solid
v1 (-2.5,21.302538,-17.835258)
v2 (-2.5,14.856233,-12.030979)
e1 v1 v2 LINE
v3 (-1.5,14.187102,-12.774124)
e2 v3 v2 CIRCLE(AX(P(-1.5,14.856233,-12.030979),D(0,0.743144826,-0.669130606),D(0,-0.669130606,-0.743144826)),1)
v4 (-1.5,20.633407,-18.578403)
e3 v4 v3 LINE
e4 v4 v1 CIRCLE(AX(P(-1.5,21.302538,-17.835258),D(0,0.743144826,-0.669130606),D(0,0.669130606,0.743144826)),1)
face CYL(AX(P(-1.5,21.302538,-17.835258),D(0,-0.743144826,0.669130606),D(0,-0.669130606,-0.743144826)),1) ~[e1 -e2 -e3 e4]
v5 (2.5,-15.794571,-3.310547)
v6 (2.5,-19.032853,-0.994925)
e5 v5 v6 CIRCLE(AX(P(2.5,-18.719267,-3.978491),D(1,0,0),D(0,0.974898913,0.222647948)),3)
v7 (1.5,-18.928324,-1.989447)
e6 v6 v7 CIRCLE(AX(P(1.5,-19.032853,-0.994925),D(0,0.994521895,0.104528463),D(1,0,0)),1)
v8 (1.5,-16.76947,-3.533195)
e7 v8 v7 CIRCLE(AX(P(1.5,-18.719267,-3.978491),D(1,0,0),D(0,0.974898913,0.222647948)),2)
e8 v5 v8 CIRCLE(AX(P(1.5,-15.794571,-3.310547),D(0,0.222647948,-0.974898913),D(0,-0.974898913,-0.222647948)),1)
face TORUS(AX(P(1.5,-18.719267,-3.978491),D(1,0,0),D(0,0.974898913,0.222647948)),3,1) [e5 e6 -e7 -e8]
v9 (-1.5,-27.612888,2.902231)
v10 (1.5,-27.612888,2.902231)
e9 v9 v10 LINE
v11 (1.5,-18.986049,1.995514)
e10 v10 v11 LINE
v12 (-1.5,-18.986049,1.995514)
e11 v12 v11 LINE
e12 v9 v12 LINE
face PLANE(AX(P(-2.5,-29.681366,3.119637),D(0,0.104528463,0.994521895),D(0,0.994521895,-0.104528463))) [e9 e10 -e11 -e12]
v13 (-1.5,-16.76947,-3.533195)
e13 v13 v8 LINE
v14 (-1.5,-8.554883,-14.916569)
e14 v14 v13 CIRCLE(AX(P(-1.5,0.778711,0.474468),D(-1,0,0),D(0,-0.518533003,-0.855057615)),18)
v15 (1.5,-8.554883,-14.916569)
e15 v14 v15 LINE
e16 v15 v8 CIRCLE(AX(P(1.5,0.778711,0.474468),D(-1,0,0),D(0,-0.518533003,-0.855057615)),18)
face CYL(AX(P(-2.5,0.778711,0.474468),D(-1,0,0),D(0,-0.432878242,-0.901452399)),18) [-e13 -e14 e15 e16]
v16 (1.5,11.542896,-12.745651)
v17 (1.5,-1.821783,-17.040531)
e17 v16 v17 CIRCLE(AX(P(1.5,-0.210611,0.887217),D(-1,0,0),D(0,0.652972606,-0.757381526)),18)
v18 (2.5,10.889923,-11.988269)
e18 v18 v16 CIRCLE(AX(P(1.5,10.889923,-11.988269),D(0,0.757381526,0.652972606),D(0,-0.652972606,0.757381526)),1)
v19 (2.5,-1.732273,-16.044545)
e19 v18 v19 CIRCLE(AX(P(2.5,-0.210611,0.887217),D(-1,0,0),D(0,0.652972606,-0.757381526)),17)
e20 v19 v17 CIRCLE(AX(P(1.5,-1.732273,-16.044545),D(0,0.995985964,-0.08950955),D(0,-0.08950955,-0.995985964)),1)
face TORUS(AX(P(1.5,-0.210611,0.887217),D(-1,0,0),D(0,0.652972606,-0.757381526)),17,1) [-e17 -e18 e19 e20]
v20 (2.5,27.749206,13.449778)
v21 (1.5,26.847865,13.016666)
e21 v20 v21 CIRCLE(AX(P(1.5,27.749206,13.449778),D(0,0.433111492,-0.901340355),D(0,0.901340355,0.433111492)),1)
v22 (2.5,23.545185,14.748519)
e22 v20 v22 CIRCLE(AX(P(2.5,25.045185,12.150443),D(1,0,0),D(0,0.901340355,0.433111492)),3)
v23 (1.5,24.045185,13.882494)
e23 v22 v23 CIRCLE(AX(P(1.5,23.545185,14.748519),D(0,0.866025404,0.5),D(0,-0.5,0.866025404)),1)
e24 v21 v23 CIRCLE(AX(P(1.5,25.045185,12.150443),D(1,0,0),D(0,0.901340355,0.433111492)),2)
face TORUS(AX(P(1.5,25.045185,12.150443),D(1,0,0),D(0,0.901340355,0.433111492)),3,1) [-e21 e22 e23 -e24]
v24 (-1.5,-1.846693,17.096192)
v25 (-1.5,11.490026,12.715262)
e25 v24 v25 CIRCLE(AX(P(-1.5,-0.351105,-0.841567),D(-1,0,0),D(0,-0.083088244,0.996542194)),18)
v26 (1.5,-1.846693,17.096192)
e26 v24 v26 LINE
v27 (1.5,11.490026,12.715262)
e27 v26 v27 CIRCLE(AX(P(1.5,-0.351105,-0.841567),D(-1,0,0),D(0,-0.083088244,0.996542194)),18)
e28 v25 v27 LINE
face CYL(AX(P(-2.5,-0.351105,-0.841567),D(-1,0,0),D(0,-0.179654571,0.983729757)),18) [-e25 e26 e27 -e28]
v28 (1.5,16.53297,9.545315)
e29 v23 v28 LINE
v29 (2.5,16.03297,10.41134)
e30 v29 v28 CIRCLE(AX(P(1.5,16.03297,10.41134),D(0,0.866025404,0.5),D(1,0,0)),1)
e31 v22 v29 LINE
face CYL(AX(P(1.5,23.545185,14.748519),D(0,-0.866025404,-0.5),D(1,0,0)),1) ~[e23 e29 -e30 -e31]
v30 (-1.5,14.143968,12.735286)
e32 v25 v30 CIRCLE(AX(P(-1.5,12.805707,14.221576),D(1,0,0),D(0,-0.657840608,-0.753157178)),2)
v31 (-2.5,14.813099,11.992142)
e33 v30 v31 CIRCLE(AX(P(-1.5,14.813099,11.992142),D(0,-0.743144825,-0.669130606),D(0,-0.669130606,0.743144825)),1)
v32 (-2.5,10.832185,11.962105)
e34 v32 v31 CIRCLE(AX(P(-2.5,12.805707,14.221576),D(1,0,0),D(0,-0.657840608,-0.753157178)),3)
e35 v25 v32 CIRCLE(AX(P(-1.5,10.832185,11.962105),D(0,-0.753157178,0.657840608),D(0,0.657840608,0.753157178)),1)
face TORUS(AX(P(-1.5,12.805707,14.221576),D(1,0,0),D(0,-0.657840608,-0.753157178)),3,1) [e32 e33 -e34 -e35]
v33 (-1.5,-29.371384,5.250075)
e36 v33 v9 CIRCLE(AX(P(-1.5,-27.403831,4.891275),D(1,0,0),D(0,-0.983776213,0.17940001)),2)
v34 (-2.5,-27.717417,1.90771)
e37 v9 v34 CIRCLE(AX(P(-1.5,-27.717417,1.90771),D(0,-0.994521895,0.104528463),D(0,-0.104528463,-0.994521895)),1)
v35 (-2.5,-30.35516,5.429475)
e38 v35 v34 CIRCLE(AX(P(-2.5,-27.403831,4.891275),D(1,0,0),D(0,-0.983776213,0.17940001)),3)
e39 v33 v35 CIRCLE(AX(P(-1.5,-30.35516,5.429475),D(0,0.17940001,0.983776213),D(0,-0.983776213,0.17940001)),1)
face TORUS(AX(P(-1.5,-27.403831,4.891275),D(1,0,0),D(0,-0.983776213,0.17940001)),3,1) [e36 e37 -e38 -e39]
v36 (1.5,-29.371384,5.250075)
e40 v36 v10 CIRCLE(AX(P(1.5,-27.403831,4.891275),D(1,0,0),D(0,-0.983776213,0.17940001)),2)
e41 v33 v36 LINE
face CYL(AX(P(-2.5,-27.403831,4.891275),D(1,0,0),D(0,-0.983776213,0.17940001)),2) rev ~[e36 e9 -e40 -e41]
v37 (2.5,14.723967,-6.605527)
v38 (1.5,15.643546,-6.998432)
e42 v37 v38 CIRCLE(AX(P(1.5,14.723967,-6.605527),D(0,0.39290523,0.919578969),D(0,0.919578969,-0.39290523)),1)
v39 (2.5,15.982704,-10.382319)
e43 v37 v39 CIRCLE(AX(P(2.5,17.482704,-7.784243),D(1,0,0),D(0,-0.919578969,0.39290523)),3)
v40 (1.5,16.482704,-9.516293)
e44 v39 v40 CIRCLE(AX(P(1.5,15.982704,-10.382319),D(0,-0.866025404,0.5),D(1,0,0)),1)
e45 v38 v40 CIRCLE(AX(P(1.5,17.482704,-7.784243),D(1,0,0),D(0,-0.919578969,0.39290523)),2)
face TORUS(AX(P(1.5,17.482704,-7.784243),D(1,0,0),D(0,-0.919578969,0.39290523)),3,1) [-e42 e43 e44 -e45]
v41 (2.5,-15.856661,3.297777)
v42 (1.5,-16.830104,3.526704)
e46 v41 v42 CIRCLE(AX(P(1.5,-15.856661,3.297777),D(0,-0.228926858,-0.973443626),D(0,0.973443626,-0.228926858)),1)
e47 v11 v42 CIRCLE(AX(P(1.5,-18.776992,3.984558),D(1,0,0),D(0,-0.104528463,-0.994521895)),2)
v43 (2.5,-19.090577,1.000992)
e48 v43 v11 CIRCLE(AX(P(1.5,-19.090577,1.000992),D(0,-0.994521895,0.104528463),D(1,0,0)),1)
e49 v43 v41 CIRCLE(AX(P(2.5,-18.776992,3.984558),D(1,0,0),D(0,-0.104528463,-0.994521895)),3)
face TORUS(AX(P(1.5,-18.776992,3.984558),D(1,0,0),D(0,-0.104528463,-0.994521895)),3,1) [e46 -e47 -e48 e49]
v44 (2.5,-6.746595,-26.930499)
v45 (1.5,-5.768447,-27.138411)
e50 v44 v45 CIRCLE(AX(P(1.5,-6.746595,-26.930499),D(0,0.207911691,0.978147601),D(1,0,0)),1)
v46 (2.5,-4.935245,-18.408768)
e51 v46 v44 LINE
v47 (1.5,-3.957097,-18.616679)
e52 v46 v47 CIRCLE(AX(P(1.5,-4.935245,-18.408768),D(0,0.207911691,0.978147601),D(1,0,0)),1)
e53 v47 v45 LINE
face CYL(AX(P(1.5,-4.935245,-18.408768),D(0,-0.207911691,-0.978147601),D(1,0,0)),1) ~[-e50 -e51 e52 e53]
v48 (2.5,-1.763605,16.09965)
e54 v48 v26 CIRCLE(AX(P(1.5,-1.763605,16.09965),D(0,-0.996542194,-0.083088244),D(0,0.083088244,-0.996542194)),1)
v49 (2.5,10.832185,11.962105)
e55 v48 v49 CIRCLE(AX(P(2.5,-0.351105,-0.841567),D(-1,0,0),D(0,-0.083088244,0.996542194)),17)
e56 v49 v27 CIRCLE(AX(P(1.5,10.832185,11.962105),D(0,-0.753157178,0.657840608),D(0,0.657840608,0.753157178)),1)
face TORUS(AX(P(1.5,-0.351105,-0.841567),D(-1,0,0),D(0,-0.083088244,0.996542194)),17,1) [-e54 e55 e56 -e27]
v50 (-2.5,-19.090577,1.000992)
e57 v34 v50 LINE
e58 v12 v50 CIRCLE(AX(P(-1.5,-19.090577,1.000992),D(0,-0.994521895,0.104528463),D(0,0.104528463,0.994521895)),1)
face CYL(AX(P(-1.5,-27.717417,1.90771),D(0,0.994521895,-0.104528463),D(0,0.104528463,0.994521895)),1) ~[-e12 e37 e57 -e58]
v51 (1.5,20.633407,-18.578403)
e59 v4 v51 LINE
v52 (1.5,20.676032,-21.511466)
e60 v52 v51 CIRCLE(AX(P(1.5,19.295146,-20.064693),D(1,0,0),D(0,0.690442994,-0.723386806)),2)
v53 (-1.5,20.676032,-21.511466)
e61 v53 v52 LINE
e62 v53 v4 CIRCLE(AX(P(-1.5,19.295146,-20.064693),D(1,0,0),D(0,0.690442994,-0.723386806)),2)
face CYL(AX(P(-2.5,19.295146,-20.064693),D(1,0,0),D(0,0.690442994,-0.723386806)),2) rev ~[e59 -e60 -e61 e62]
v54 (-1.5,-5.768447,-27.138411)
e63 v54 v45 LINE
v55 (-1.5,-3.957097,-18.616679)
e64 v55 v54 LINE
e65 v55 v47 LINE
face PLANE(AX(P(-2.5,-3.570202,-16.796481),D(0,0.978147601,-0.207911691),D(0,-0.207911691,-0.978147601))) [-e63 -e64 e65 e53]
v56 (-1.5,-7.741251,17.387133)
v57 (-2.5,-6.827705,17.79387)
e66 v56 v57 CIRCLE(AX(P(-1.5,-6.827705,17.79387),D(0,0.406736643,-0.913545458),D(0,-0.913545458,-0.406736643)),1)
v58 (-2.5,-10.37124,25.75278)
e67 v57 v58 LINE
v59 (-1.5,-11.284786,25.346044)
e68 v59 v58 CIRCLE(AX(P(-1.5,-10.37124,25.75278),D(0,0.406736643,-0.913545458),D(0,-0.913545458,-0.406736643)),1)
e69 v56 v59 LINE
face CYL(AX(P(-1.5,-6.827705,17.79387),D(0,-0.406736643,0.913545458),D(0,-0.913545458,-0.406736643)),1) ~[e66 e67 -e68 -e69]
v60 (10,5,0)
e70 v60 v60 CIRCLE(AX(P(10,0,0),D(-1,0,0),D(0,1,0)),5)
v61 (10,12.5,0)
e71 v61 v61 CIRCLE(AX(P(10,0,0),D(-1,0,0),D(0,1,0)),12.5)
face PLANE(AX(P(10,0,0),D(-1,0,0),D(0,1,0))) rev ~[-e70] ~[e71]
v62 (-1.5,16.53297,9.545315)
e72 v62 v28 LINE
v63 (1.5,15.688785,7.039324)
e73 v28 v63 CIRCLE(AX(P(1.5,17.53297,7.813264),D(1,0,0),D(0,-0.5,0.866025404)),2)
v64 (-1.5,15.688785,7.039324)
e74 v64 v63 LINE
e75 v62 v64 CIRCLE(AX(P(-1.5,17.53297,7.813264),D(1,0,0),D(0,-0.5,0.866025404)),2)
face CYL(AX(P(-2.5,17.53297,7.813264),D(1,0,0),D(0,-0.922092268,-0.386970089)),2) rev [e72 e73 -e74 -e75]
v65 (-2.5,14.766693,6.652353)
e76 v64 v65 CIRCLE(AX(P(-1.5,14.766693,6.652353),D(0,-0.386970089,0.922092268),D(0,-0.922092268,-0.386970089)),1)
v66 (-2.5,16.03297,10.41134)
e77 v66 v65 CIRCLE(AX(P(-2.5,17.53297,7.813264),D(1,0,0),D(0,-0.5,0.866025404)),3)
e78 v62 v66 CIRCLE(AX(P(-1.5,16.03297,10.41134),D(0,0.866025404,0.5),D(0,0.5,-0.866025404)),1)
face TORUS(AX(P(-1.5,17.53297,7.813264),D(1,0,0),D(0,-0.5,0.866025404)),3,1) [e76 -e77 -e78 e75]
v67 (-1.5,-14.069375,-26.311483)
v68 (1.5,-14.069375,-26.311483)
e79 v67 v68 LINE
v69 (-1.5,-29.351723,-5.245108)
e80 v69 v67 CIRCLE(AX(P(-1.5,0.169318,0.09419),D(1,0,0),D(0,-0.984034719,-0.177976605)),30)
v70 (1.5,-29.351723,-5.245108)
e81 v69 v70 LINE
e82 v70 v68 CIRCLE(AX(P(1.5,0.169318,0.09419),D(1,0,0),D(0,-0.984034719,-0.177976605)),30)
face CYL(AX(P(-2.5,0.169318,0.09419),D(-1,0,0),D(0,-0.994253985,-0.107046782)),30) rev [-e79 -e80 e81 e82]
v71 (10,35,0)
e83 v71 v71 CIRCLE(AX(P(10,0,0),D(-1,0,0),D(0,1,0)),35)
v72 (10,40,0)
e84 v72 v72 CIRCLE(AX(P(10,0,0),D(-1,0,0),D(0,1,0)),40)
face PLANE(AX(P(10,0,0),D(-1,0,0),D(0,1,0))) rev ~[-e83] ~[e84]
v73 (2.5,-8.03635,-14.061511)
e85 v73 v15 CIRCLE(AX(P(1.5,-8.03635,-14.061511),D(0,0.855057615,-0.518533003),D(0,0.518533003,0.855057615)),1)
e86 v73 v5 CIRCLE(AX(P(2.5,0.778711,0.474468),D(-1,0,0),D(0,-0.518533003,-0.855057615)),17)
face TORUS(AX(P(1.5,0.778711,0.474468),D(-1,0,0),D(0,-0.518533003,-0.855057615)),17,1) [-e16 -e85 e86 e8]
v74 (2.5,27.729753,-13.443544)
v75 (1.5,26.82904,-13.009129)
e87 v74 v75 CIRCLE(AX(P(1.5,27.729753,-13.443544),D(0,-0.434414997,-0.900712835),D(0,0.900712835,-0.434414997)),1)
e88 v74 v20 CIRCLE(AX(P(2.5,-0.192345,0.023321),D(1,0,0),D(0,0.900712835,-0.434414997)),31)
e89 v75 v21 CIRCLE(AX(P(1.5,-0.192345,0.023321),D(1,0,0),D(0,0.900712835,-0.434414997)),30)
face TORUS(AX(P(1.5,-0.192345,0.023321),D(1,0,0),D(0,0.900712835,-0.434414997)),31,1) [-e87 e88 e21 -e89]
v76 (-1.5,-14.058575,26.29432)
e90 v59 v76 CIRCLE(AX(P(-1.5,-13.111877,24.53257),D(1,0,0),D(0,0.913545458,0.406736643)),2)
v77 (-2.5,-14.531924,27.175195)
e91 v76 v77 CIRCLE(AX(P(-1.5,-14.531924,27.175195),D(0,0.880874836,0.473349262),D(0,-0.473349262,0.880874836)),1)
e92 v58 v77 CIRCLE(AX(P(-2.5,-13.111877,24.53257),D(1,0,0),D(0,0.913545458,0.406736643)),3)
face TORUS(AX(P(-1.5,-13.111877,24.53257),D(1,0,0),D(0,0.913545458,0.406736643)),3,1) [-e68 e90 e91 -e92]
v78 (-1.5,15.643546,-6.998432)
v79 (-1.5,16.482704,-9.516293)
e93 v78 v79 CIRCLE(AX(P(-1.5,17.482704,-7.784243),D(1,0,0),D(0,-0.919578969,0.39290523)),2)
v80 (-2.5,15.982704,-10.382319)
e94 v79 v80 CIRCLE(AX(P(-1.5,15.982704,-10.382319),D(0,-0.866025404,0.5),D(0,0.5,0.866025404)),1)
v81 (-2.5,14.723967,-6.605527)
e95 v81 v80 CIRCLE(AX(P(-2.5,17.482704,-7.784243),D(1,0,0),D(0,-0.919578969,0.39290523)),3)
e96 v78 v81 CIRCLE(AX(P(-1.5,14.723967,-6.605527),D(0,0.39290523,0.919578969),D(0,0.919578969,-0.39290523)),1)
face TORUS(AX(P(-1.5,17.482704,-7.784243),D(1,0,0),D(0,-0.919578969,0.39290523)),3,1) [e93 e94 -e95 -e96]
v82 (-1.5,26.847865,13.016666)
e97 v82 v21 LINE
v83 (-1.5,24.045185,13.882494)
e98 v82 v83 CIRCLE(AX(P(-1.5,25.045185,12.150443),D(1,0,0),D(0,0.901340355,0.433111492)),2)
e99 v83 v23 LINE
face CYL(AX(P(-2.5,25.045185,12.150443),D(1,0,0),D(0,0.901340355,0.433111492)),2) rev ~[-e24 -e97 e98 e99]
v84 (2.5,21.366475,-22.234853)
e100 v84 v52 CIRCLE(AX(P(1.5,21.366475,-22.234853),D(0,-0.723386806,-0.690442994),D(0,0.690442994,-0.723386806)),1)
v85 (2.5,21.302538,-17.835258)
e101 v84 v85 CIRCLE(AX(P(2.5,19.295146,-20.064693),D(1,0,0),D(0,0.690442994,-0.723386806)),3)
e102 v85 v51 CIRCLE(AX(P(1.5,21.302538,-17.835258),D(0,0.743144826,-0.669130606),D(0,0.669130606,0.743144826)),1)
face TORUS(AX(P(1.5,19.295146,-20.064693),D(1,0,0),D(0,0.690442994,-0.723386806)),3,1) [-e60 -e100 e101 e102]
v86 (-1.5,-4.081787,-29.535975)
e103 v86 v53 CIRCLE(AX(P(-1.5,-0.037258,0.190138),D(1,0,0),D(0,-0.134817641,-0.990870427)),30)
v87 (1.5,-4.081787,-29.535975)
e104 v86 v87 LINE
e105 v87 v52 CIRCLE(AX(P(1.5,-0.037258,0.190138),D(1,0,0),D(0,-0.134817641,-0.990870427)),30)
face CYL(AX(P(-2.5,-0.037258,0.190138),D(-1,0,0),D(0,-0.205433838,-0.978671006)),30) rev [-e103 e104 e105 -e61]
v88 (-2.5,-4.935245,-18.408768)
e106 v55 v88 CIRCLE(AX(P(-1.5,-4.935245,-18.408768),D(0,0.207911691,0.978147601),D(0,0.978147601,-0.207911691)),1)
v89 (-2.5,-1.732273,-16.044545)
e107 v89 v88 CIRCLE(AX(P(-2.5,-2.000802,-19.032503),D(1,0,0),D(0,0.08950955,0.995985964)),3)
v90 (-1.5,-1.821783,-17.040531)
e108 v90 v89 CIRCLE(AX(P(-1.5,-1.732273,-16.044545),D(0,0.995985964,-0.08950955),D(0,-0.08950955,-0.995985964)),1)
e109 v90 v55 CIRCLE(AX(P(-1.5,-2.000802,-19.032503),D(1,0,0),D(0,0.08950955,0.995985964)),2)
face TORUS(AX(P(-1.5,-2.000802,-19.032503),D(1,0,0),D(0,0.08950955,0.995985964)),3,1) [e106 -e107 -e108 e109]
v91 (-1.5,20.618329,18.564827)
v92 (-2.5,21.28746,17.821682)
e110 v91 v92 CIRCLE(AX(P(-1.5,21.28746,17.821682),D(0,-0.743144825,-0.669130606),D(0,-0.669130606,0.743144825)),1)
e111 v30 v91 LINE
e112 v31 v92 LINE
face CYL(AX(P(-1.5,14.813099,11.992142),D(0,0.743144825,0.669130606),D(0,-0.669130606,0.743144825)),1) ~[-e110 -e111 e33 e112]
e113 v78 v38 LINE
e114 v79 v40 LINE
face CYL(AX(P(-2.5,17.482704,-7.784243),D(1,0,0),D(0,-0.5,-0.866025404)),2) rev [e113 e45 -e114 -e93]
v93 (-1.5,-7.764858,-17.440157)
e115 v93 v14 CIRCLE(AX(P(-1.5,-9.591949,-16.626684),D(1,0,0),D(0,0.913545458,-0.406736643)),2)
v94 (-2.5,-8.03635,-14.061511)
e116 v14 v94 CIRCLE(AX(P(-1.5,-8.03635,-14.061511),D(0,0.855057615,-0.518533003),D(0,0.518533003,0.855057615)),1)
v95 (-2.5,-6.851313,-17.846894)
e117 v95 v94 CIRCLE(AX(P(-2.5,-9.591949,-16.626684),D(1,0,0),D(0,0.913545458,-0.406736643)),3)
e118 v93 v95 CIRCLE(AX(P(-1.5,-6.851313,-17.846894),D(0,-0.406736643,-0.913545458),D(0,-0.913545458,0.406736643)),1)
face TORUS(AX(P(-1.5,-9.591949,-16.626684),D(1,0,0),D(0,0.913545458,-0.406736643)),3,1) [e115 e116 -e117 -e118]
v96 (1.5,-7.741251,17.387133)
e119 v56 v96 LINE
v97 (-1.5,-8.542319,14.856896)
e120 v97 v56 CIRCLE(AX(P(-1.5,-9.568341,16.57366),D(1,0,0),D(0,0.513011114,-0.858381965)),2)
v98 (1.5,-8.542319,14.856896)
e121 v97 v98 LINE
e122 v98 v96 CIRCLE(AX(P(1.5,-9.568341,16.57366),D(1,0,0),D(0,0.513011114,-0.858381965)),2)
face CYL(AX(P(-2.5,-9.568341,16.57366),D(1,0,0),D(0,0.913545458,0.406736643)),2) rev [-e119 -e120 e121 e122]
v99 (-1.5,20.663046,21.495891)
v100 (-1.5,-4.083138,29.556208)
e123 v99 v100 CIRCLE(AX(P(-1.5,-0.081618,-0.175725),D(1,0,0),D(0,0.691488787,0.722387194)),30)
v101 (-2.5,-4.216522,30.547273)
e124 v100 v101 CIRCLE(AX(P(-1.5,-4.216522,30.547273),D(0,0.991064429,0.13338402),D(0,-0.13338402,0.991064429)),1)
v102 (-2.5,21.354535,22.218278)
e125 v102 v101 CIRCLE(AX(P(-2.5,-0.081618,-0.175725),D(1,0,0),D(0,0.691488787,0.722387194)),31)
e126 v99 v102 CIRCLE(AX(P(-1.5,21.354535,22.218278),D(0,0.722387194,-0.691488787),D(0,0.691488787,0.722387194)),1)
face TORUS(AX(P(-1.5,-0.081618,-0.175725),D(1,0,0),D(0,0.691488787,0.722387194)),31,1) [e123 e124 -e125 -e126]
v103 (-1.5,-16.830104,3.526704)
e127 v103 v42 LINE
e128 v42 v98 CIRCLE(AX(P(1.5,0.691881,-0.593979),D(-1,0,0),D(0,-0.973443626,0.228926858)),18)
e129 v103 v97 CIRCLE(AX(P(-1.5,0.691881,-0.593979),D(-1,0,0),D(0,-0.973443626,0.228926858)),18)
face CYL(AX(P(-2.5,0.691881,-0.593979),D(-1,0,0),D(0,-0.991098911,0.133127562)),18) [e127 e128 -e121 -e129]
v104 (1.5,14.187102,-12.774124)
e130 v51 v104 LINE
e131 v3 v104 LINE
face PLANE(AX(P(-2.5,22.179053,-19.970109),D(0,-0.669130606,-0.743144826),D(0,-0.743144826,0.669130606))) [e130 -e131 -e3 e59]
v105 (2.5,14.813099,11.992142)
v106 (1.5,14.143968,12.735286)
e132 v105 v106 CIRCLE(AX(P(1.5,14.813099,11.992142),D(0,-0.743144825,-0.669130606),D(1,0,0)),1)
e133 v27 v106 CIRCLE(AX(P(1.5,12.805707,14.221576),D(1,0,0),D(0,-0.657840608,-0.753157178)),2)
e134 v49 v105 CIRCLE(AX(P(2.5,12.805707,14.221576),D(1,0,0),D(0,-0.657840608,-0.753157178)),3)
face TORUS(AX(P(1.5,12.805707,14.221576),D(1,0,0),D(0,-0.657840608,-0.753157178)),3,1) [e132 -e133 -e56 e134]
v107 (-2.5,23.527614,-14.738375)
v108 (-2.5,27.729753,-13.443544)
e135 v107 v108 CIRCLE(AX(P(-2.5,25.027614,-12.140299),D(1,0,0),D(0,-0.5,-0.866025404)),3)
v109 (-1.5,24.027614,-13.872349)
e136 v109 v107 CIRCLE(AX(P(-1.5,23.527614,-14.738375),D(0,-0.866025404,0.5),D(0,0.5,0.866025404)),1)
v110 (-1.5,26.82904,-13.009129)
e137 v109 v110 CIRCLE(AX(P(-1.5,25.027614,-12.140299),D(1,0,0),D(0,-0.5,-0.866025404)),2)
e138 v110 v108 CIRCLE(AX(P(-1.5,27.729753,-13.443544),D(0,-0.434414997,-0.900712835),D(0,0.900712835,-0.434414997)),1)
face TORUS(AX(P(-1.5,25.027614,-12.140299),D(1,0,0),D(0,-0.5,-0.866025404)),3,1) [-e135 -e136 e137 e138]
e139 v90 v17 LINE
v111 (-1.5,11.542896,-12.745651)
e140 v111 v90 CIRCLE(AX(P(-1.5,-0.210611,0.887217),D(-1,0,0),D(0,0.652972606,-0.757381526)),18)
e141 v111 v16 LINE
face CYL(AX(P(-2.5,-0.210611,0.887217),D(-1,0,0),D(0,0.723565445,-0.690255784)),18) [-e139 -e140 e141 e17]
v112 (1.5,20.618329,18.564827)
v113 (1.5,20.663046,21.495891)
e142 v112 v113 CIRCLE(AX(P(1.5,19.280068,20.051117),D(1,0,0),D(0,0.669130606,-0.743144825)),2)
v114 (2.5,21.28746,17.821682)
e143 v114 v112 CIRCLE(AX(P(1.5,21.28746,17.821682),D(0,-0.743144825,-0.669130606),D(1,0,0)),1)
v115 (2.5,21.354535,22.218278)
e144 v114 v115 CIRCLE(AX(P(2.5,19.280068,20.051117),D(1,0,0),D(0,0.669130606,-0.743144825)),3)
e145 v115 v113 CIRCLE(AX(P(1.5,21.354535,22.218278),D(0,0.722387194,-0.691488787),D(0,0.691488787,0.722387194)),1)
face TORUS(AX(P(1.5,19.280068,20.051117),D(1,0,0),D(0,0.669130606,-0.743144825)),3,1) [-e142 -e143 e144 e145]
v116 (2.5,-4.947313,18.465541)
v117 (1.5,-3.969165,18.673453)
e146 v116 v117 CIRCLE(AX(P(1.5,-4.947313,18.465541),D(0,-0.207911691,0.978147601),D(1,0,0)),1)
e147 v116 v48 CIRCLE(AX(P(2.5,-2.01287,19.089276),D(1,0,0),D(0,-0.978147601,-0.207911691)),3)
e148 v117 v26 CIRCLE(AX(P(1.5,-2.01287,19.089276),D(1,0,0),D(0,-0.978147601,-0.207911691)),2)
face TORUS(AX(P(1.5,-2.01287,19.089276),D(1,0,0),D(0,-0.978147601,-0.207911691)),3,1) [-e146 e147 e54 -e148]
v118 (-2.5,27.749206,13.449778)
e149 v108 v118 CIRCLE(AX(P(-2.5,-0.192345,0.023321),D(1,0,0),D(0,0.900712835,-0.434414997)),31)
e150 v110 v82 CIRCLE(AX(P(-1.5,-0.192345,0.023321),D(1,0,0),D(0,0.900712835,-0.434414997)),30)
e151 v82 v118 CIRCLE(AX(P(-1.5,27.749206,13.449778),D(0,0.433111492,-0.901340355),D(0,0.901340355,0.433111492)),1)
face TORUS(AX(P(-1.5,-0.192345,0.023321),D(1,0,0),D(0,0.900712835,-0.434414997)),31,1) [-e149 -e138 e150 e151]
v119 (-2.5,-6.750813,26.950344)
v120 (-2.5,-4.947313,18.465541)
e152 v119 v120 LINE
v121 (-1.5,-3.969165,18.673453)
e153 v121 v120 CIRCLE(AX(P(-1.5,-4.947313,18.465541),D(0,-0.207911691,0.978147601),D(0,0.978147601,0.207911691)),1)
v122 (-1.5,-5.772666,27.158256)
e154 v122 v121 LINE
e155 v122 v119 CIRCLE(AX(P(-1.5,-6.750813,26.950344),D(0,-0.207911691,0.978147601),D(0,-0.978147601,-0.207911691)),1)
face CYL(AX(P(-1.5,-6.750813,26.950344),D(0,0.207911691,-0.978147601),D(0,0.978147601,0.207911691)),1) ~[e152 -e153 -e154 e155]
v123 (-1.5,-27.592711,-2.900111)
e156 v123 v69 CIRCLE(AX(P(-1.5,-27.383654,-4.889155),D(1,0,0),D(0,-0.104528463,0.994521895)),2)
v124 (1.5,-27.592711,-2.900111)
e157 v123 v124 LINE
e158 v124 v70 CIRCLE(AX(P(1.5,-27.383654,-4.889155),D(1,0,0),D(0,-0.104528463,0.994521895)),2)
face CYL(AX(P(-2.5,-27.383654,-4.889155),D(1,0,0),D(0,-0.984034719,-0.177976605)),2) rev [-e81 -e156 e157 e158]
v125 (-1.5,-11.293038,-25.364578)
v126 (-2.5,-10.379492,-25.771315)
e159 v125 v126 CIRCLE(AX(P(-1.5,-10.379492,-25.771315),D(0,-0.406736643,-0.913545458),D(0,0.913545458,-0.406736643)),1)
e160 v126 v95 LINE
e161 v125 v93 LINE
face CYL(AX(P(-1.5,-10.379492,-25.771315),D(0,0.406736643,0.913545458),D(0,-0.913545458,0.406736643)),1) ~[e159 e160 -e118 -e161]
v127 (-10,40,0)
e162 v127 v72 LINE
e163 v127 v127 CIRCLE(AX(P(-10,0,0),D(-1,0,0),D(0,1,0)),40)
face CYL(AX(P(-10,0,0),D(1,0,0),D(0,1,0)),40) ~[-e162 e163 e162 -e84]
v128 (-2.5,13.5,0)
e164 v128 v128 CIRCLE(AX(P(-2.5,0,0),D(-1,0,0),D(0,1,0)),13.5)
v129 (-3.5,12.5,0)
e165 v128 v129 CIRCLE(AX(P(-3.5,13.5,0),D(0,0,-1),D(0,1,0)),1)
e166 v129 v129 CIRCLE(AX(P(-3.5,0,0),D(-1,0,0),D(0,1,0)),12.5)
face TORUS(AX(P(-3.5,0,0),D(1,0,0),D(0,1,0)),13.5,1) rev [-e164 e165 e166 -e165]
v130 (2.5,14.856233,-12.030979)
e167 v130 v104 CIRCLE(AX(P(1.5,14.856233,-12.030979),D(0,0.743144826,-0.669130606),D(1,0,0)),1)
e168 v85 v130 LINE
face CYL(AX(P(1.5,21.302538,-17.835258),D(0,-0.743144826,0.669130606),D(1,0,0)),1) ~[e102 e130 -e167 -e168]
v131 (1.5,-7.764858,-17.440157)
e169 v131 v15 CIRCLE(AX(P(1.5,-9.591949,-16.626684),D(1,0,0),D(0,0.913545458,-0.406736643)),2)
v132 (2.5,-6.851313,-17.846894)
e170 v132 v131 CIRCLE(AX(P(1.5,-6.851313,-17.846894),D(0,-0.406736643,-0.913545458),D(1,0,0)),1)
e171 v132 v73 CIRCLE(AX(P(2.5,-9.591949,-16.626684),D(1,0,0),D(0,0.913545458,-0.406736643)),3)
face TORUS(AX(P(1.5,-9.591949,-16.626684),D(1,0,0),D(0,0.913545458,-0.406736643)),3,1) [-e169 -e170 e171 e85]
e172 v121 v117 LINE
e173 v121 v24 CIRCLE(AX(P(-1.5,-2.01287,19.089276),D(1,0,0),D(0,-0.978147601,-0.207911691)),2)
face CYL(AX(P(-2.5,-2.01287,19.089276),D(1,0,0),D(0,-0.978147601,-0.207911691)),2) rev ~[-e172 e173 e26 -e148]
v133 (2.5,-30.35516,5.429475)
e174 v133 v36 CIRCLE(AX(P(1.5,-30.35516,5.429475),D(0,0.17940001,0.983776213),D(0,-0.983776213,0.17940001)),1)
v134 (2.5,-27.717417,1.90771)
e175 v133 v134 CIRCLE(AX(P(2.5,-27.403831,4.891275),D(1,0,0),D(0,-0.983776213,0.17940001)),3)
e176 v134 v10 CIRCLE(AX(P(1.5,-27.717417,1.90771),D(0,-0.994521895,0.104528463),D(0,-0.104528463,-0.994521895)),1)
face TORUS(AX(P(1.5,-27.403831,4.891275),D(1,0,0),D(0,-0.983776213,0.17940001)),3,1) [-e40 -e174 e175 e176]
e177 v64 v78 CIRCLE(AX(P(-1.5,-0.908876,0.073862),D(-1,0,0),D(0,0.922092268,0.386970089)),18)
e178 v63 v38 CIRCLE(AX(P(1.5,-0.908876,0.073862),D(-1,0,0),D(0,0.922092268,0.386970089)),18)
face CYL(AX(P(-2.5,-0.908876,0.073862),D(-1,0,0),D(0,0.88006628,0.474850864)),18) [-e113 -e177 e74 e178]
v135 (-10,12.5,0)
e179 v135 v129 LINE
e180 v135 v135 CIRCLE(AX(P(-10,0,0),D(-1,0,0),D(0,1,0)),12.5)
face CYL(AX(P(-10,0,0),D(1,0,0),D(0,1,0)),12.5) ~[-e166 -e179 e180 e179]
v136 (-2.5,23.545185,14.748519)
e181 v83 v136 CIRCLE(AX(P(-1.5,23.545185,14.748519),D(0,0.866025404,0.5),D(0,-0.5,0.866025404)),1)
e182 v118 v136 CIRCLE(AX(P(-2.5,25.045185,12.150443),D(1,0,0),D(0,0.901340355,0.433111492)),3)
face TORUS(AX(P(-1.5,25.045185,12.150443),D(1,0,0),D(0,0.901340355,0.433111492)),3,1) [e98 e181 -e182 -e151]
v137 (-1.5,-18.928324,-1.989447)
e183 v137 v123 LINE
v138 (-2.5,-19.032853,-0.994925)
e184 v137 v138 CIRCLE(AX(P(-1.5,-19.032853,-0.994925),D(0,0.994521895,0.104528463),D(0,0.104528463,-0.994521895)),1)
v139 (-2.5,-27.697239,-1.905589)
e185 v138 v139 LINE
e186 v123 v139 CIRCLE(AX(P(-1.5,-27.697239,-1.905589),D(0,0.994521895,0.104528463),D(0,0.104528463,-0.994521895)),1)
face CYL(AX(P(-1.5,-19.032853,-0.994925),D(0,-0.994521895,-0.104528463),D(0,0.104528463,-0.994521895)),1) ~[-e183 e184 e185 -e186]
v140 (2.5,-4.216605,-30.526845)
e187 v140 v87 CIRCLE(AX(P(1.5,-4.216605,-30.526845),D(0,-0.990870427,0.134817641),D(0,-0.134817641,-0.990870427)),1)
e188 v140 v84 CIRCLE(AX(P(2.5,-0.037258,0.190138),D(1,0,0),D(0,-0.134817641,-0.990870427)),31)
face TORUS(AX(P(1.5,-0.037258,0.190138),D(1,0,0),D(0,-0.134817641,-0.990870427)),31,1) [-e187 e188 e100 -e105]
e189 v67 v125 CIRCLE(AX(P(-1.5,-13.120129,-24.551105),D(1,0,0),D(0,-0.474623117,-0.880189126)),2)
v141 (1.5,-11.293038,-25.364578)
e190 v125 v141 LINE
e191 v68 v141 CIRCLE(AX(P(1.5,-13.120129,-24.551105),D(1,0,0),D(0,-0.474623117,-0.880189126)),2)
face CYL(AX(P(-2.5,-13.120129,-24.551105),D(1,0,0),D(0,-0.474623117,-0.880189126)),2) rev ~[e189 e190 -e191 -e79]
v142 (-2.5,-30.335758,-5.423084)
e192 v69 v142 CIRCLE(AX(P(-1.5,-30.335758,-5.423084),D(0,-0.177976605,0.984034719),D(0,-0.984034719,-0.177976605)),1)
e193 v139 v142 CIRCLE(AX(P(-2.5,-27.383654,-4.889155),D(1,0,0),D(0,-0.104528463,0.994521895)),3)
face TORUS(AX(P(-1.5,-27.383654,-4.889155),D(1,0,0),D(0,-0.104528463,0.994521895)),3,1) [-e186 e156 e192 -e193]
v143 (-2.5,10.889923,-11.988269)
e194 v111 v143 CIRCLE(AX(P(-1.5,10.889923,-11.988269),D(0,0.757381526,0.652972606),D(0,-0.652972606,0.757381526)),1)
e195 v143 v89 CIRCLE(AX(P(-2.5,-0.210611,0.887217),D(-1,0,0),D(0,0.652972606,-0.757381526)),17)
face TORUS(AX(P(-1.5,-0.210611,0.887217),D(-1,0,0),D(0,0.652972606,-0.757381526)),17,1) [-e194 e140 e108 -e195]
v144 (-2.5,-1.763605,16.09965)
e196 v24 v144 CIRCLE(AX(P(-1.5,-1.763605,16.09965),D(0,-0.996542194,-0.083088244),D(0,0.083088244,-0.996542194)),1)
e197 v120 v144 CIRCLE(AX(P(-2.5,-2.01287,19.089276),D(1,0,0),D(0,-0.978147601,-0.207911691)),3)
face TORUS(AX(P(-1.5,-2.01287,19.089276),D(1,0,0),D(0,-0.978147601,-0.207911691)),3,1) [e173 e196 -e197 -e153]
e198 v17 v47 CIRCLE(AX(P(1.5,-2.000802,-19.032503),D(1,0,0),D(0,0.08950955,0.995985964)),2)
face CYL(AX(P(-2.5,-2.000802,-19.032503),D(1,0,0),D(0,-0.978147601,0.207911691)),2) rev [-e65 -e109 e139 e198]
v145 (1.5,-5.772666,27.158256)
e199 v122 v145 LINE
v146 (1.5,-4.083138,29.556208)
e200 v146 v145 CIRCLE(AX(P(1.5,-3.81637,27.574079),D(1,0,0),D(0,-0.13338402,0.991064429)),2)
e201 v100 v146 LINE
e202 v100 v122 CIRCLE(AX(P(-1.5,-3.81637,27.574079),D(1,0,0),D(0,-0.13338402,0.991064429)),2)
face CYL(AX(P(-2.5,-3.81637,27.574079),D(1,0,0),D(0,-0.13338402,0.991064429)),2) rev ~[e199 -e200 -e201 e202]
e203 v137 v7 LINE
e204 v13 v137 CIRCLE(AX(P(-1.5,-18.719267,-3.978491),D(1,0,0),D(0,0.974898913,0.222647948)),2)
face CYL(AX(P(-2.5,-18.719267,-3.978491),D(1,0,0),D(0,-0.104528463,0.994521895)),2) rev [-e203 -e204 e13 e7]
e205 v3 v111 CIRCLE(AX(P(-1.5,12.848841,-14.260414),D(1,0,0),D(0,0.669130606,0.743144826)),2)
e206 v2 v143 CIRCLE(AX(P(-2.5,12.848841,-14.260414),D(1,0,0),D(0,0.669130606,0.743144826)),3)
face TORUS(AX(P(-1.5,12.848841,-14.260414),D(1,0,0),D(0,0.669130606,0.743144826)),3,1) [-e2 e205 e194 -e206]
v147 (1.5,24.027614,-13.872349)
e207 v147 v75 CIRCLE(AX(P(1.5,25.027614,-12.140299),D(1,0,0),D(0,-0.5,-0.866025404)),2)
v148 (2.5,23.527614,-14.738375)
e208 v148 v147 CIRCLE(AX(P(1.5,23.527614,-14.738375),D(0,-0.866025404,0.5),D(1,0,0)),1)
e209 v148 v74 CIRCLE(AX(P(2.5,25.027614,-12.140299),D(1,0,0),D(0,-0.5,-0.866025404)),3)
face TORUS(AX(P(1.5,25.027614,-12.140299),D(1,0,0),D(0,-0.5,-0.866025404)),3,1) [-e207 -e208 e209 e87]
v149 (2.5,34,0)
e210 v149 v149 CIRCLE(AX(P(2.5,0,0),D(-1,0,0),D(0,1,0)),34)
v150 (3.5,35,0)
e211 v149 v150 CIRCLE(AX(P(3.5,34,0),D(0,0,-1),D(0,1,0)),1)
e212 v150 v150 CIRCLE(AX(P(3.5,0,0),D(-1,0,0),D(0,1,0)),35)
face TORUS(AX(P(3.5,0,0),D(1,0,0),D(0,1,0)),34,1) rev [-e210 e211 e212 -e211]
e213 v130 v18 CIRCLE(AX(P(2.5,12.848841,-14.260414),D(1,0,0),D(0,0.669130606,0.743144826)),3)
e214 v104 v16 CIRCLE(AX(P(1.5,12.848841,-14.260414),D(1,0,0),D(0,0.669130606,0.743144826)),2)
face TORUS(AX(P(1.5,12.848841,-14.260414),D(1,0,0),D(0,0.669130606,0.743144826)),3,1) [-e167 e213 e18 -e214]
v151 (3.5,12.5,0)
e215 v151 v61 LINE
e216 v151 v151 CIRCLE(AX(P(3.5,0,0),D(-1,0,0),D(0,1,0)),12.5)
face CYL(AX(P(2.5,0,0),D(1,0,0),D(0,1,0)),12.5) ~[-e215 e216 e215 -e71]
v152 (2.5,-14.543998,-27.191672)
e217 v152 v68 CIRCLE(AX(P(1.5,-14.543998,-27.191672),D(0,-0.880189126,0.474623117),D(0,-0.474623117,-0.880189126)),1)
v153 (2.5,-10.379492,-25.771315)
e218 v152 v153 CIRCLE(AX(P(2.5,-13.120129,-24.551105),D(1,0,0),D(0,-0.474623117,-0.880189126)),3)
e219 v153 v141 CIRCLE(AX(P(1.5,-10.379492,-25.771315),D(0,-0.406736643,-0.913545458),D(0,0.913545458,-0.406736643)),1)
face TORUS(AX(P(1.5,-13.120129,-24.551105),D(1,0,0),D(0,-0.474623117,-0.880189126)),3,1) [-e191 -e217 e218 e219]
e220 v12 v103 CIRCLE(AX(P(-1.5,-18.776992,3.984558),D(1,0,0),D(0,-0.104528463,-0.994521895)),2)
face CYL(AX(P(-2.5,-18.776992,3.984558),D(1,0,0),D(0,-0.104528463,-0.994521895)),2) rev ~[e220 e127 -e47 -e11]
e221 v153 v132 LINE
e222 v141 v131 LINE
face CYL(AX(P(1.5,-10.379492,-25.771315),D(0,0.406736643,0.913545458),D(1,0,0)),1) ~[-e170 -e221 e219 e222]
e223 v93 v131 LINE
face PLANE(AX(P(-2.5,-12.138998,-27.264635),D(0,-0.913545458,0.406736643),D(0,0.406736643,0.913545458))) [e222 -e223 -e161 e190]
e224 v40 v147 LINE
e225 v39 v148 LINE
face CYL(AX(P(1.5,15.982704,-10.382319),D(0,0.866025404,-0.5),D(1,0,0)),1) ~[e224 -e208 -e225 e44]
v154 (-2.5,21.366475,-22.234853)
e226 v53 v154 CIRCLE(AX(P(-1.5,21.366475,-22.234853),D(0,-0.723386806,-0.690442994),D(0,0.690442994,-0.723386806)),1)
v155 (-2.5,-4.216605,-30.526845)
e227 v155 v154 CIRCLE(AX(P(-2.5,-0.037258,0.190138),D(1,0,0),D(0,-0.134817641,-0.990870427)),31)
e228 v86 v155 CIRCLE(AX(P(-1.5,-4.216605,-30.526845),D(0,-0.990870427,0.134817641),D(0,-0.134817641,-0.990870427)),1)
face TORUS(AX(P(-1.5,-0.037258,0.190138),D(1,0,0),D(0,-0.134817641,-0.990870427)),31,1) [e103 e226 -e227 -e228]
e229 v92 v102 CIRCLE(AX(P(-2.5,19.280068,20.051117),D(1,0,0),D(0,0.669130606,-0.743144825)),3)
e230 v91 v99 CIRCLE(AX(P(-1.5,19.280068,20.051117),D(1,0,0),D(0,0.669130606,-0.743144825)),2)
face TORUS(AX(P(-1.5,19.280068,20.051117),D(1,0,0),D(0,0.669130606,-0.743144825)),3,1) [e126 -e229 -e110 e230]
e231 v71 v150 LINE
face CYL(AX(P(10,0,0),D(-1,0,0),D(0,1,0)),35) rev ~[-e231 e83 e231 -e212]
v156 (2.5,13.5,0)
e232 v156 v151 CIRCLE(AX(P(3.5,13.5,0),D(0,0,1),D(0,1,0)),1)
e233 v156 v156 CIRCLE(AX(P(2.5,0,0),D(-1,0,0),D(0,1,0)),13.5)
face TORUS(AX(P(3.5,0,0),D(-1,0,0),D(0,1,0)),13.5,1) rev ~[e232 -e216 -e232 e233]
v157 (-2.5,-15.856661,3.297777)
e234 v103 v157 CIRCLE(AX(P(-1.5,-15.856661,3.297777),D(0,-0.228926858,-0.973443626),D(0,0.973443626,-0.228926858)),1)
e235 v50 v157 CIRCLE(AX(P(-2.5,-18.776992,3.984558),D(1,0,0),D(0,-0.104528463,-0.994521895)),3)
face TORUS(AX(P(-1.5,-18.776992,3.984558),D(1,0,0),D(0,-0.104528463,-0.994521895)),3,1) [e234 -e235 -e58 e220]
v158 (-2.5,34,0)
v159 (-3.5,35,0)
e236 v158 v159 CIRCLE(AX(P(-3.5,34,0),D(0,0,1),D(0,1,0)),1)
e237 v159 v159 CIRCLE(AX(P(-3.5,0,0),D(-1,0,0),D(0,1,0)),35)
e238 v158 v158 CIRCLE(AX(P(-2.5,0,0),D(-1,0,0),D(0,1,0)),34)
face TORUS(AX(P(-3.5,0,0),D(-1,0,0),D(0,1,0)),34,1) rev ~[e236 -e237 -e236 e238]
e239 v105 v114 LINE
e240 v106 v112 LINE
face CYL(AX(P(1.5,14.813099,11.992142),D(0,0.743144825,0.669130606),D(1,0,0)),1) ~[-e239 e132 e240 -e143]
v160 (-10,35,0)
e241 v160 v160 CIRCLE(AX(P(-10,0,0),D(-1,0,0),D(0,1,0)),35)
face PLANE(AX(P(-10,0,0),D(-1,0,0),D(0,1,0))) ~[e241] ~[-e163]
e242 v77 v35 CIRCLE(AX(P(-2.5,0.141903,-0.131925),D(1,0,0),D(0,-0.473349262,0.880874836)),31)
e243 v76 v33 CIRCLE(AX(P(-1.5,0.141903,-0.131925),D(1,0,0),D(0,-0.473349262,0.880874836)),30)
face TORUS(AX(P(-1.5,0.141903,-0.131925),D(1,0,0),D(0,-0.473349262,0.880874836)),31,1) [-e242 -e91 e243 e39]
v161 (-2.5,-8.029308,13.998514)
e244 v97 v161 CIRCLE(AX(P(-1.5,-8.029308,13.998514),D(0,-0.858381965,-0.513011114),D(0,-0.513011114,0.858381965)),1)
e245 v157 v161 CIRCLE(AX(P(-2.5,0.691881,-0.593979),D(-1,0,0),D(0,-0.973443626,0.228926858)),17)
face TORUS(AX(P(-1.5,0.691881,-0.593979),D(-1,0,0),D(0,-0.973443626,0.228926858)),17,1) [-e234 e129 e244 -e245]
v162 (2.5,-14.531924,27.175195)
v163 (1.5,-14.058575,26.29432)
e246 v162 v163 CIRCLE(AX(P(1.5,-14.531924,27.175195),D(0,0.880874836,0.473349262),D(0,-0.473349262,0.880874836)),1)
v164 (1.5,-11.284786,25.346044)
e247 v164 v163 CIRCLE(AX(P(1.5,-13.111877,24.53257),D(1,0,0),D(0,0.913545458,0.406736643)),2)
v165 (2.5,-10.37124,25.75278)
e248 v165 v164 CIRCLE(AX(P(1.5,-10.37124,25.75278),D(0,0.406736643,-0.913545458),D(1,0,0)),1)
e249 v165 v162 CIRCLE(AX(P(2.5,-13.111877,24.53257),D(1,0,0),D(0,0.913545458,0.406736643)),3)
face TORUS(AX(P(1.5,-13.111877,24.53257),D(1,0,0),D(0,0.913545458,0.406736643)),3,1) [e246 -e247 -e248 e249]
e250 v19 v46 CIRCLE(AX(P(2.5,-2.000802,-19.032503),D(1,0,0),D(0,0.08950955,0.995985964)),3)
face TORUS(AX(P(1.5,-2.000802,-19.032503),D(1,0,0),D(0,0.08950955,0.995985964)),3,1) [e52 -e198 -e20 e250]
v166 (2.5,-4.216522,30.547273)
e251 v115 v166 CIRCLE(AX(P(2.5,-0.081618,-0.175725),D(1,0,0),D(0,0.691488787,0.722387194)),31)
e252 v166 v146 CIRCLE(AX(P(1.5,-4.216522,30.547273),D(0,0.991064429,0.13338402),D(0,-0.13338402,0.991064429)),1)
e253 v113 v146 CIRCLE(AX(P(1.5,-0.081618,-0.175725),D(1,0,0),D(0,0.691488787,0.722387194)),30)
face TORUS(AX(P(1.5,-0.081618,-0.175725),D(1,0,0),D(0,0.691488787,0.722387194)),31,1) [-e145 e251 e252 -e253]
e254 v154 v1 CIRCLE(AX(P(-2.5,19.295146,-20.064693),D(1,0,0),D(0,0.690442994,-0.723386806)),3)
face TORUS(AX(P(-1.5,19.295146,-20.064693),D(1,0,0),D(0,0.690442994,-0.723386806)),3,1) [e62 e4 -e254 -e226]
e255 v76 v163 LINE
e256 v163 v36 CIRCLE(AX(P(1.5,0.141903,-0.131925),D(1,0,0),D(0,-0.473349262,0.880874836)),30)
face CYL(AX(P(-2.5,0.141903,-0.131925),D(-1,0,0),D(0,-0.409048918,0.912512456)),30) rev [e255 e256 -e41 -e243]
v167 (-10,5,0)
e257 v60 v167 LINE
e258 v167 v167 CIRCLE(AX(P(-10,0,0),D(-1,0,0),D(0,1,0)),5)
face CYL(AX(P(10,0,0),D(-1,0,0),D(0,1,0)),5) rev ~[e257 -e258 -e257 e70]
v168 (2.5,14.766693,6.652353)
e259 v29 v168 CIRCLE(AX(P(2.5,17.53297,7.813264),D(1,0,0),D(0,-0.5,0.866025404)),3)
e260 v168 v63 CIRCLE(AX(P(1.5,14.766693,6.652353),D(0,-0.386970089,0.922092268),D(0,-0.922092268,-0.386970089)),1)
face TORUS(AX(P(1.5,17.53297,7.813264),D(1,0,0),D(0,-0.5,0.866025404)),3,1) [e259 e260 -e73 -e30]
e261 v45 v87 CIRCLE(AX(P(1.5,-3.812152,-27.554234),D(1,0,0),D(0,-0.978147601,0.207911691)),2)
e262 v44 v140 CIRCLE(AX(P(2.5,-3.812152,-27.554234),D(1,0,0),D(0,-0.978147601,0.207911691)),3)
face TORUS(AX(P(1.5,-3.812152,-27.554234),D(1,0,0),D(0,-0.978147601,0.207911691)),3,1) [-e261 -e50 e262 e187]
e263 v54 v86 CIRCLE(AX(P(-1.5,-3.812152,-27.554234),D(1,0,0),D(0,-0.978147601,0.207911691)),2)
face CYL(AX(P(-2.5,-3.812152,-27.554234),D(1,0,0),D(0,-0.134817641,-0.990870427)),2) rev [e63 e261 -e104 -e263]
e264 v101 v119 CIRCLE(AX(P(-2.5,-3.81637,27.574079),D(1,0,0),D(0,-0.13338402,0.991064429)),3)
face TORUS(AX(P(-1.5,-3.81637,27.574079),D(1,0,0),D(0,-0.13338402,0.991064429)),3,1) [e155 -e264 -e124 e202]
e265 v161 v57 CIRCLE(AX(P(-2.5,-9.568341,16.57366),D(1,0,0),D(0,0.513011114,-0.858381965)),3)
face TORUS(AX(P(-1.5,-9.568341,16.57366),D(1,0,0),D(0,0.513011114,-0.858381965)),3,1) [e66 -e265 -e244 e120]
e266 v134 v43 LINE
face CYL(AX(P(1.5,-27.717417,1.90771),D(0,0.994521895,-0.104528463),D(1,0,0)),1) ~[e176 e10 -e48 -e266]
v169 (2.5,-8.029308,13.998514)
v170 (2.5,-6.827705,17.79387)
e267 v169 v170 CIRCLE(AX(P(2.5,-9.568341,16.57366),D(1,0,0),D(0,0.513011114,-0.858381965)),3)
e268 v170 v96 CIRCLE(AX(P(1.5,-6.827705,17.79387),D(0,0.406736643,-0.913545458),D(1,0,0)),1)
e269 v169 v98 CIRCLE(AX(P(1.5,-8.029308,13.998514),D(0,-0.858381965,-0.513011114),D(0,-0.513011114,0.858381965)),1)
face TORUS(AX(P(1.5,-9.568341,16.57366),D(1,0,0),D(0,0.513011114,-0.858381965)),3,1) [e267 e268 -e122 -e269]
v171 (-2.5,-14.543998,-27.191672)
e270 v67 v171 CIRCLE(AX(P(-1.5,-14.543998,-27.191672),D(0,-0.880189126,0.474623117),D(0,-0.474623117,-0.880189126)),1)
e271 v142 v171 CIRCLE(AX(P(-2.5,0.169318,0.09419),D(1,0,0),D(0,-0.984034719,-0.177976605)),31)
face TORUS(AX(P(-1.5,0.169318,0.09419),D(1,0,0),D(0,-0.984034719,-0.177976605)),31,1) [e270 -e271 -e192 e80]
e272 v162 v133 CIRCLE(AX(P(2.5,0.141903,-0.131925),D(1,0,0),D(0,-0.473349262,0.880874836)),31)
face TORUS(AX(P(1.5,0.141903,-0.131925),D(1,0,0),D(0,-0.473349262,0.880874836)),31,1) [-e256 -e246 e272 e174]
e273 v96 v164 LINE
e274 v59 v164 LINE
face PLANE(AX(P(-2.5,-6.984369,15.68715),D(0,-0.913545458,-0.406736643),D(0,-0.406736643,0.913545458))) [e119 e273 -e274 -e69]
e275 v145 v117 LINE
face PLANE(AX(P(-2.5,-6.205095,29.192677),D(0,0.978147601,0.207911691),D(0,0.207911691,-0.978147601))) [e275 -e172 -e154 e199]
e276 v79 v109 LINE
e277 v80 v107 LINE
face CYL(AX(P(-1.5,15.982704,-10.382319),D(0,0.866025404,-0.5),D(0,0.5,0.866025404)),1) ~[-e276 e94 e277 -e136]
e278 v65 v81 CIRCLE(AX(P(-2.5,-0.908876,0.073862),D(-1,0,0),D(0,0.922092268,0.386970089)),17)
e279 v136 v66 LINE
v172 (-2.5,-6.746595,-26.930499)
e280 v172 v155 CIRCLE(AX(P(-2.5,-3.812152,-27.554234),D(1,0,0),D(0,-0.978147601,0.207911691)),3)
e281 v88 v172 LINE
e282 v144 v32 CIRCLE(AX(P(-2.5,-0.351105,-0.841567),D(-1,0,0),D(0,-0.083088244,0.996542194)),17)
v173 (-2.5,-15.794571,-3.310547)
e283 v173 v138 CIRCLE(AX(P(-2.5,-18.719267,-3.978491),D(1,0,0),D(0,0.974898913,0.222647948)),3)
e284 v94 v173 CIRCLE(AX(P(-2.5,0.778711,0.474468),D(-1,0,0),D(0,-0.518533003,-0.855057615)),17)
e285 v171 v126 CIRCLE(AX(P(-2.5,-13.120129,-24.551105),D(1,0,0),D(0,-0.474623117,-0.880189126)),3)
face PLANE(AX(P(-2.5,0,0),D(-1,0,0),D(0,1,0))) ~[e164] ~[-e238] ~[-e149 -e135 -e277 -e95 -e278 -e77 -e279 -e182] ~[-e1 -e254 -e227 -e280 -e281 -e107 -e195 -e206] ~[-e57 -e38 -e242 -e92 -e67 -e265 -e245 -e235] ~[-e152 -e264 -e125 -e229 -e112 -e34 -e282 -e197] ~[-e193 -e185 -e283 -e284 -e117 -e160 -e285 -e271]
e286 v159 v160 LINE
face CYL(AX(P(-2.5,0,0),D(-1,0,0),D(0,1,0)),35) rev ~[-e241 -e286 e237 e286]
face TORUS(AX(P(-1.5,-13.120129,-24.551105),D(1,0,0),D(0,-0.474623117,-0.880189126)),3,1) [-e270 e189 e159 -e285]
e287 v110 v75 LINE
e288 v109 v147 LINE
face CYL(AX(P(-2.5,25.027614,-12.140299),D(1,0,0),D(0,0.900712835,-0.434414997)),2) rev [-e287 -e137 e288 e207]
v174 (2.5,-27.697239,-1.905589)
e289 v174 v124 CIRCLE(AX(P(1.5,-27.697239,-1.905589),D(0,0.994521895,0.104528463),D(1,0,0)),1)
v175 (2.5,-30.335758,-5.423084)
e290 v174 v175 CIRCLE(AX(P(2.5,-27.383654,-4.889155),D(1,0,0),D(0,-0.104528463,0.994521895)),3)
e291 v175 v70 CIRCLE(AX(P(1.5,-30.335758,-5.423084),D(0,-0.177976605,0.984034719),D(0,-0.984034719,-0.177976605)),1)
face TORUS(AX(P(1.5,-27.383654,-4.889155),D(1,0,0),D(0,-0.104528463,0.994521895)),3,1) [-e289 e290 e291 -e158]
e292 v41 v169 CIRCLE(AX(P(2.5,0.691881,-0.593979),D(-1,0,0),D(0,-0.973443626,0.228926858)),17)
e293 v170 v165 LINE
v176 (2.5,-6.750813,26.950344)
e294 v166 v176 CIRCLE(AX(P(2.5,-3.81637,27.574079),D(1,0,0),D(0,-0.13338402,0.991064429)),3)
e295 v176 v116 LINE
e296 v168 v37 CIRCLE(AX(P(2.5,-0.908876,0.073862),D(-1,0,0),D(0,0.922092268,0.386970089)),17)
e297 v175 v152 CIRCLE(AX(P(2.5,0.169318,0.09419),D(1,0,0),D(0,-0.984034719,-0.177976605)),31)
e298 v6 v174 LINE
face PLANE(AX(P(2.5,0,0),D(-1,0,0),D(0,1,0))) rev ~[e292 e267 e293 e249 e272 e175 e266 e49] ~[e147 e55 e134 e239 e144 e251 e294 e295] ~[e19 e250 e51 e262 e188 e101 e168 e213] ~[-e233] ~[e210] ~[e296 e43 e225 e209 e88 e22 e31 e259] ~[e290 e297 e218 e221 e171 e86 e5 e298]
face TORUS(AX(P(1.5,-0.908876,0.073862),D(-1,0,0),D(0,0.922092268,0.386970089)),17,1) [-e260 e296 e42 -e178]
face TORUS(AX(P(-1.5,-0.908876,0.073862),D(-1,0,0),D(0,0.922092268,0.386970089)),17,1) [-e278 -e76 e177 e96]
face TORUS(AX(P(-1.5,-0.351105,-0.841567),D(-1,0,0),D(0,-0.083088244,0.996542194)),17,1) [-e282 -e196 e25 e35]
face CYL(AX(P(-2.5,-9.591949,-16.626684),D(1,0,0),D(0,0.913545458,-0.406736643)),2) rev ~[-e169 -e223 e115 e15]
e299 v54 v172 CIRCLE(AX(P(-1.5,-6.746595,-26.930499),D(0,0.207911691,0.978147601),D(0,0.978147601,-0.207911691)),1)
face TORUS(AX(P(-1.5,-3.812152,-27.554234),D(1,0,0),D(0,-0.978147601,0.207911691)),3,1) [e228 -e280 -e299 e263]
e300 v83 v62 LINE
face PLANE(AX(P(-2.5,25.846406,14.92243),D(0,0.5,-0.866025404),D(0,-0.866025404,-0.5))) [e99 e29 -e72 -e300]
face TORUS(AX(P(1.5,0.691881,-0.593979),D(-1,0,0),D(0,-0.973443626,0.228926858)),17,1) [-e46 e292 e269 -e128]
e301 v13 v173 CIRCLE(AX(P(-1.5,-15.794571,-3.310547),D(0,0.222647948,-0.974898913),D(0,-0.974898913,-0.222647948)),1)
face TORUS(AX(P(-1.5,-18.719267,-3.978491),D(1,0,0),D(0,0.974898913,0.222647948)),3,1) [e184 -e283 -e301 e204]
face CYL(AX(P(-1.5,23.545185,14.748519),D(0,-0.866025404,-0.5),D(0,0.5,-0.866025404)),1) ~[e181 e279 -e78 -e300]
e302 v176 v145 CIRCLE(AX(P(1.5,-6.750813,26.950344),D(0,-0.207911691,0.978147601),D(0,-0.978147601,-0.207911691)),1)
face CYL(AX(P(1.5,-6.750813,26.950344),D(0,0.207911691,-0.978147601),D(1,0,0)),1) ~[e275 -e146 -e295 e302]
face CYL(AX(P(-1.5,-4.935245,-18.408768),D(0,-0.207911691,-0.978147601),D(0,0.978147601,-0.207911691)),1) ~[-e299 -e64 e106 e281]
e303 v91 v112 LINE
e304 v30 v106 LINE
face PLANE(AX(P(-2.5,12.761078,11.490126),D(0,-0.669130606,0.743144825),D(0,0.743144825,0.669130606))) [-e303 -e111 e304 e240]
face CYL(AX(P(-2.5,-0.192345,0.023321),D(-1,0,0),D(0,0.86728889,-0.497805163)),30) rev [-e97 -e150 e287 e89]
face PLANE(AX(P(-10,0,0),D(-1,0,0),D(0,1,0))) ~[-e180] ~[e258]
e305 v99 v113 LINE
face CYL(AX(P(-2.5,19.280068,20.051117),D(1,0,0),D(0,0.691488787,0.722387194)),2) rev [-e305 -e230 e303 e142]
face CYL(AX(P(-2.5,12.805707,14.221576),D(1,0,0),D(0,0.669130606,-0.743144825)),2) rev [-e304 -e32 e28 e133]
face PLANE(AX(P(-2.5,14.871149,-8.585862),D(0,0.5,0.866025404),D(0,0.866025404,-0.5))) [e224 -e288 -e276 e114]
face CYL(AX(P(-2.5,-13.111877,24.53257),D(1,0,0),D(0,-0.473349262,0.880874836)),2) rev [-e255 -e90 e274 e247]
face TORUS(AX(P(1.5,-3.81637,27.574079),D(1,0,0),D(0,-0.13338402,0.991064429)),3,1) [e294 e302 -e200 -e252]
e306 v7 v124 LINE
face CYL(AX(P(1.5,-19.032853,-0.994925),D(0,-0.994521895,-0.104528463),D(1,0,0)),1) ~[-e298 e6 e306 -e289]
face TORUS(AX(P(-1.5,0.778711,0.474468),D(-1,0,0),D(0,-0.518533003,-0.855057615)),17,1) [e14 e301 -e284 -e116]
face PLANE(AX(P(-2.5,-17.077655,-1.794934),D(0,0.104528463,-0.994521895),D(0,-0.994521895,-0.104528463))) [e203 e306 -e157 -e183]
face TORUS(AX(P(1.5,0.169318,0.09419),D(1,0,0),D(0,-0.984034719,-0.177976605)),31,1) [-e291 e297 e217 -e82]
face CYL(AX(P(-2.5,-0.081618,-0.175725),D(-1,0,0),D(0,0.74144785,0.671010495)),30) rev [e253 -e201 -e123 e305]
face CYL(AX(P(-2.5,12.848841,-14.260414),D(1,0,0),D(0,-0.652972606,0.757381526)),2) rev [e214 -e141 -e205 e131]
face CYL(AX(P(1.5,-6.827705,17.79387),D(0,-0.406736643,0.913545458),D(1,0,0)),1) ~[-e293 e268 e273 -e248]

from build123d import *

# Parameters (mm, degrees)
CUT_EXTRUDE1_DEPTH       = 13.5
FILLET1_R                = 2
CIRPATTERN1_COUNT        = 5
FILLET1_OF_CIRPATTERN1_R = 2
FILLET2_R                = 1


with BuildPart() as part:
    # Sketch1 → Revolve2 (revolve)
    with BuildSketch(Plane.XY):
        Polygon((2.5, 12.5), (10, 12.5), (10, 5), (-10, 5), (-10, 12.5), (-2.5, 12.5), (-2.5, 35), (-10, 35), (-10, 40), (10, 40), (10, 35), (2.5, 35), align=None)
    revolve(axis=Axis((44.438670627, 0, 0), (-1, 0, 0)))

    # Sketch3 → Cut-Extrude1 (cut, through all)
    with BuildSketch(Plane.ZY.offset(2.5)):
        with BuildLine():
            Line((14.922429524, 25.846406108), (8.62117749, 14.932317435))
            ThreePointArc((8.62117749, 14.932317435), (0.009875228, 17.091010663), (-8.585861972, 14.871149162))
            Line((-8.585861972, 14.871149162), (-14.910833645, 25.826321456))
            ThreePointArc((-14.910833645, 25.826321456), (0.003124351, 29.807647944), (14.922429524, 25.846406108))
        make_face()
    cut_extrude1 = extrude(amount=-CUT_EXTRUDE1_DEPTH, mode=Mode.SUBTRACT)

    # Fillet1
    fillet1_edges = [part.edges().sort_by_distance(p)[0] for p in [
        (0, 14.932317435, 8.62117749),
        (0, 14.871149162, -8.585861972),
        (0, 25.826321456, -14.910833645),
        (0, 25.846406108, 14.922429524),
    ]]
    fillet(fillet1_edges, radius=FILLET1_R)

    # CirPattern1: Cut-Extrude1 ×5 about axis
    cirpattern1_axis = Axis((0, 0, 0), (1, 0, 0))
    for i in range(1, CIRPATTERN1_COUNT):
        add(cut_extrude1.rotate(cirpattern1_axis, i * 360 / CIRPATTERN1_COUNT), mode=Mode.SUBTRACT)

    # Fillet1 of CirPattern1
    fillet1_of_cirpattern1_edges = [part.edges().sort_by_distance(p)[0] for p in [
        (0, -3.584887178, 16.865568156),
        (0, 12.761077793, 11.490126055),
        (0, 22.161817733, 19.954590316),
        (0, -6.205095107, 29.192677272),
        (0, -17.147899556, 1.802316869),
        (0, -6.984369353, 15.687150409),
        (0, -12.129564844, 27.243448692),
        (0, -29.681365788, 3.119637253),
        (0, -7.013097584, -15.751675072),
        (0, -17.077655443, -1.794933916),
        (0, -29.658301076, -3.117213054),
        (0, -12.138997782, -27.264635417),
        (0, 12.813566883, -11.537387443),
        (0, -3.570202159, -16.796480576),
        (0, -6.200273269, -29.169992309),
        (0, 22.179052569, -19.970108632),
    ]]
    fillet(fillet1_of_cirpattern1_edges, radius=FILLET1_OF_CIRPATTERN1_R)

    # Fillet2
    fillet2_edges = [part.edges().sort_by_distance(p)[0] for p in [
        (-2.5, -35, 0),
        (-2.5, -12.5, 0),
        (2.5, -12.5, 0),
        (2.5, -35, 0),
        (2.5, 17.381148972, 15.650056829),
        (-2.5, 17.381148972, 15.650056829),
        (2.5, 9.209527855, 28.349257709),
        (-2.5, 9.209527855, 28.349257709),
        (2.5, 5.266341172, 16.259435415),
        (-2.5, 5.266341172, 16.259435415),
        (2.5, -4.870915252, 22.915854557),
        (-2.5, -4.870915252, 22.915854557),
        (-2.5, 21.27983554, 20.020608399),
        (2.5, 21.27983554, 20.020608399),
        (-2.5, 12.820797379, 12.221633008),
        (2.5, 12.820797379, 12.221633008),
        (-2.5, -3.20579446, 17.483994284),
        (2.5, -3.20579446, 17.483994284),
        (-2.5, -5.45131568, 28.726014249),
        (2.5, -5.45131568, 28.726014249),
        (2.5, -9.513018114, 21.366588514),
        (-2.5, -9.513018114, 21.366588514),
        (2.5, -24.115845659, 17.519183889),
        (-2.5, -24.115845659, 17.519183889),
        (2.5, -13.836253082, 10.03302995),
        (-2.5, -13.836253082, 10.03302995),
        (2.5, -23.299468394, 2.448872808),
        (-2.5, -23.299468394, 2.448872808),
        (-2.5, -12.464899259, 26.425034489),
        (2.5, -12.464899259, 26.425034489),
        (-2.5, -7.66161944, 15.969995189),
        (2.5, -7.66161944, 15.969995189),
        (-2.5, -17.618911663, 2.353959652),
        (2.5, -17.618911663, 2.353959652),
        (-2.5, -29.004612225, 3.692317284),
        (2.5, -29.004612225, 3.692317284),
        (2.5, -23.260517502, -2.444778904),
        (-2.5, -23.260517502, -2.444778904),
        (2.5, -24.11394014, -17.521806611),
        (-2.5, -24.11394014, -17.521806611),
        (2.5, -13.817615853, -10.058681895),
        (-2.5, -13.817615853, -10.058681895),
        (2.5, -9.528948135, -21.402367928),
        (-2.5, -9.528948135, -21.402367928),
        (-2.5, -28.983566948, -3.689038931),
        (2.5, -28.983566948, -3.689038931),
        (-2.5, -17.555938602, -2.35163318),
        (2.5, -17.555938602, -2.35163318),
        (-2.5, -7.683291793, -16.02916721),
        (2.5, -7.683291793, -16.02916721),
        (-2.5, -12.474520506, -26.44403667),
        (2.5, -12.474520506, -26.44403667),
        (2.5, -4.862772299, -22.877544972),
        (-2.5, -4.862772299, -22.877544972),
        (2.5, 9.21261105, -28.348255919),
        (-2.5, 9.21261105, -28.348255919),
        (2.5, 5.296496841, -16.249637244),
        (-2.5, 5.296496841, -16.249637244),
        (2.5, 17.41025457, -15.676263627),
        (-2.5, 17.41025457, -15.676263627),
        (-2.5, -5.44793023, -28.704985934),
        (2.5, -5.44793023, -28.704985934),
        (-2.5, -3.18854732, -17.423384424),
        (2.5, -3.18854732, -17.423384424),
        (-2.5, 12.870376189, -12.2605298),
        (2.5, 12.870376189, -12.2605298),
        (-2.5, 21.294934559, -20.035630746),
        (2.5, 21.294934559, -20.035630746),
        (2.5, 20.255158942, -11.694321468),
        (-2.5, 20.255158942, -11.694321468),
        (2.5, 29.807646894, 0.001620932),
        (-2.5, 29.807646894, 0.001620932),
        (2.5, 17.091030923, 0.015853774),
        (-2.5, 17.091030923, 0.015853774),
        (2.5, 20.289077212, 11.71390419),
        (-2.5, 20.289077212, 11.71390419),
        (-2.5, 25.616560898, -14.051618023),
        (2.5, 25.616560898, -14.051618023),
        (-2.5, 15.585307983, -8.416610593),
        (2.5, 15.585307983, -8.416610593),
        (-2.5, 15.637621726, 8.451743074),
        (2.5, 15.637621726, 8.451743074),
        (-2.5, 25.635513852, 14.061335883),
        (2.5, 25.635513852, 14.061335883),
    ]]
    fillet(fillet2_edges, radius=FILLET2_R)


solid = part.part
